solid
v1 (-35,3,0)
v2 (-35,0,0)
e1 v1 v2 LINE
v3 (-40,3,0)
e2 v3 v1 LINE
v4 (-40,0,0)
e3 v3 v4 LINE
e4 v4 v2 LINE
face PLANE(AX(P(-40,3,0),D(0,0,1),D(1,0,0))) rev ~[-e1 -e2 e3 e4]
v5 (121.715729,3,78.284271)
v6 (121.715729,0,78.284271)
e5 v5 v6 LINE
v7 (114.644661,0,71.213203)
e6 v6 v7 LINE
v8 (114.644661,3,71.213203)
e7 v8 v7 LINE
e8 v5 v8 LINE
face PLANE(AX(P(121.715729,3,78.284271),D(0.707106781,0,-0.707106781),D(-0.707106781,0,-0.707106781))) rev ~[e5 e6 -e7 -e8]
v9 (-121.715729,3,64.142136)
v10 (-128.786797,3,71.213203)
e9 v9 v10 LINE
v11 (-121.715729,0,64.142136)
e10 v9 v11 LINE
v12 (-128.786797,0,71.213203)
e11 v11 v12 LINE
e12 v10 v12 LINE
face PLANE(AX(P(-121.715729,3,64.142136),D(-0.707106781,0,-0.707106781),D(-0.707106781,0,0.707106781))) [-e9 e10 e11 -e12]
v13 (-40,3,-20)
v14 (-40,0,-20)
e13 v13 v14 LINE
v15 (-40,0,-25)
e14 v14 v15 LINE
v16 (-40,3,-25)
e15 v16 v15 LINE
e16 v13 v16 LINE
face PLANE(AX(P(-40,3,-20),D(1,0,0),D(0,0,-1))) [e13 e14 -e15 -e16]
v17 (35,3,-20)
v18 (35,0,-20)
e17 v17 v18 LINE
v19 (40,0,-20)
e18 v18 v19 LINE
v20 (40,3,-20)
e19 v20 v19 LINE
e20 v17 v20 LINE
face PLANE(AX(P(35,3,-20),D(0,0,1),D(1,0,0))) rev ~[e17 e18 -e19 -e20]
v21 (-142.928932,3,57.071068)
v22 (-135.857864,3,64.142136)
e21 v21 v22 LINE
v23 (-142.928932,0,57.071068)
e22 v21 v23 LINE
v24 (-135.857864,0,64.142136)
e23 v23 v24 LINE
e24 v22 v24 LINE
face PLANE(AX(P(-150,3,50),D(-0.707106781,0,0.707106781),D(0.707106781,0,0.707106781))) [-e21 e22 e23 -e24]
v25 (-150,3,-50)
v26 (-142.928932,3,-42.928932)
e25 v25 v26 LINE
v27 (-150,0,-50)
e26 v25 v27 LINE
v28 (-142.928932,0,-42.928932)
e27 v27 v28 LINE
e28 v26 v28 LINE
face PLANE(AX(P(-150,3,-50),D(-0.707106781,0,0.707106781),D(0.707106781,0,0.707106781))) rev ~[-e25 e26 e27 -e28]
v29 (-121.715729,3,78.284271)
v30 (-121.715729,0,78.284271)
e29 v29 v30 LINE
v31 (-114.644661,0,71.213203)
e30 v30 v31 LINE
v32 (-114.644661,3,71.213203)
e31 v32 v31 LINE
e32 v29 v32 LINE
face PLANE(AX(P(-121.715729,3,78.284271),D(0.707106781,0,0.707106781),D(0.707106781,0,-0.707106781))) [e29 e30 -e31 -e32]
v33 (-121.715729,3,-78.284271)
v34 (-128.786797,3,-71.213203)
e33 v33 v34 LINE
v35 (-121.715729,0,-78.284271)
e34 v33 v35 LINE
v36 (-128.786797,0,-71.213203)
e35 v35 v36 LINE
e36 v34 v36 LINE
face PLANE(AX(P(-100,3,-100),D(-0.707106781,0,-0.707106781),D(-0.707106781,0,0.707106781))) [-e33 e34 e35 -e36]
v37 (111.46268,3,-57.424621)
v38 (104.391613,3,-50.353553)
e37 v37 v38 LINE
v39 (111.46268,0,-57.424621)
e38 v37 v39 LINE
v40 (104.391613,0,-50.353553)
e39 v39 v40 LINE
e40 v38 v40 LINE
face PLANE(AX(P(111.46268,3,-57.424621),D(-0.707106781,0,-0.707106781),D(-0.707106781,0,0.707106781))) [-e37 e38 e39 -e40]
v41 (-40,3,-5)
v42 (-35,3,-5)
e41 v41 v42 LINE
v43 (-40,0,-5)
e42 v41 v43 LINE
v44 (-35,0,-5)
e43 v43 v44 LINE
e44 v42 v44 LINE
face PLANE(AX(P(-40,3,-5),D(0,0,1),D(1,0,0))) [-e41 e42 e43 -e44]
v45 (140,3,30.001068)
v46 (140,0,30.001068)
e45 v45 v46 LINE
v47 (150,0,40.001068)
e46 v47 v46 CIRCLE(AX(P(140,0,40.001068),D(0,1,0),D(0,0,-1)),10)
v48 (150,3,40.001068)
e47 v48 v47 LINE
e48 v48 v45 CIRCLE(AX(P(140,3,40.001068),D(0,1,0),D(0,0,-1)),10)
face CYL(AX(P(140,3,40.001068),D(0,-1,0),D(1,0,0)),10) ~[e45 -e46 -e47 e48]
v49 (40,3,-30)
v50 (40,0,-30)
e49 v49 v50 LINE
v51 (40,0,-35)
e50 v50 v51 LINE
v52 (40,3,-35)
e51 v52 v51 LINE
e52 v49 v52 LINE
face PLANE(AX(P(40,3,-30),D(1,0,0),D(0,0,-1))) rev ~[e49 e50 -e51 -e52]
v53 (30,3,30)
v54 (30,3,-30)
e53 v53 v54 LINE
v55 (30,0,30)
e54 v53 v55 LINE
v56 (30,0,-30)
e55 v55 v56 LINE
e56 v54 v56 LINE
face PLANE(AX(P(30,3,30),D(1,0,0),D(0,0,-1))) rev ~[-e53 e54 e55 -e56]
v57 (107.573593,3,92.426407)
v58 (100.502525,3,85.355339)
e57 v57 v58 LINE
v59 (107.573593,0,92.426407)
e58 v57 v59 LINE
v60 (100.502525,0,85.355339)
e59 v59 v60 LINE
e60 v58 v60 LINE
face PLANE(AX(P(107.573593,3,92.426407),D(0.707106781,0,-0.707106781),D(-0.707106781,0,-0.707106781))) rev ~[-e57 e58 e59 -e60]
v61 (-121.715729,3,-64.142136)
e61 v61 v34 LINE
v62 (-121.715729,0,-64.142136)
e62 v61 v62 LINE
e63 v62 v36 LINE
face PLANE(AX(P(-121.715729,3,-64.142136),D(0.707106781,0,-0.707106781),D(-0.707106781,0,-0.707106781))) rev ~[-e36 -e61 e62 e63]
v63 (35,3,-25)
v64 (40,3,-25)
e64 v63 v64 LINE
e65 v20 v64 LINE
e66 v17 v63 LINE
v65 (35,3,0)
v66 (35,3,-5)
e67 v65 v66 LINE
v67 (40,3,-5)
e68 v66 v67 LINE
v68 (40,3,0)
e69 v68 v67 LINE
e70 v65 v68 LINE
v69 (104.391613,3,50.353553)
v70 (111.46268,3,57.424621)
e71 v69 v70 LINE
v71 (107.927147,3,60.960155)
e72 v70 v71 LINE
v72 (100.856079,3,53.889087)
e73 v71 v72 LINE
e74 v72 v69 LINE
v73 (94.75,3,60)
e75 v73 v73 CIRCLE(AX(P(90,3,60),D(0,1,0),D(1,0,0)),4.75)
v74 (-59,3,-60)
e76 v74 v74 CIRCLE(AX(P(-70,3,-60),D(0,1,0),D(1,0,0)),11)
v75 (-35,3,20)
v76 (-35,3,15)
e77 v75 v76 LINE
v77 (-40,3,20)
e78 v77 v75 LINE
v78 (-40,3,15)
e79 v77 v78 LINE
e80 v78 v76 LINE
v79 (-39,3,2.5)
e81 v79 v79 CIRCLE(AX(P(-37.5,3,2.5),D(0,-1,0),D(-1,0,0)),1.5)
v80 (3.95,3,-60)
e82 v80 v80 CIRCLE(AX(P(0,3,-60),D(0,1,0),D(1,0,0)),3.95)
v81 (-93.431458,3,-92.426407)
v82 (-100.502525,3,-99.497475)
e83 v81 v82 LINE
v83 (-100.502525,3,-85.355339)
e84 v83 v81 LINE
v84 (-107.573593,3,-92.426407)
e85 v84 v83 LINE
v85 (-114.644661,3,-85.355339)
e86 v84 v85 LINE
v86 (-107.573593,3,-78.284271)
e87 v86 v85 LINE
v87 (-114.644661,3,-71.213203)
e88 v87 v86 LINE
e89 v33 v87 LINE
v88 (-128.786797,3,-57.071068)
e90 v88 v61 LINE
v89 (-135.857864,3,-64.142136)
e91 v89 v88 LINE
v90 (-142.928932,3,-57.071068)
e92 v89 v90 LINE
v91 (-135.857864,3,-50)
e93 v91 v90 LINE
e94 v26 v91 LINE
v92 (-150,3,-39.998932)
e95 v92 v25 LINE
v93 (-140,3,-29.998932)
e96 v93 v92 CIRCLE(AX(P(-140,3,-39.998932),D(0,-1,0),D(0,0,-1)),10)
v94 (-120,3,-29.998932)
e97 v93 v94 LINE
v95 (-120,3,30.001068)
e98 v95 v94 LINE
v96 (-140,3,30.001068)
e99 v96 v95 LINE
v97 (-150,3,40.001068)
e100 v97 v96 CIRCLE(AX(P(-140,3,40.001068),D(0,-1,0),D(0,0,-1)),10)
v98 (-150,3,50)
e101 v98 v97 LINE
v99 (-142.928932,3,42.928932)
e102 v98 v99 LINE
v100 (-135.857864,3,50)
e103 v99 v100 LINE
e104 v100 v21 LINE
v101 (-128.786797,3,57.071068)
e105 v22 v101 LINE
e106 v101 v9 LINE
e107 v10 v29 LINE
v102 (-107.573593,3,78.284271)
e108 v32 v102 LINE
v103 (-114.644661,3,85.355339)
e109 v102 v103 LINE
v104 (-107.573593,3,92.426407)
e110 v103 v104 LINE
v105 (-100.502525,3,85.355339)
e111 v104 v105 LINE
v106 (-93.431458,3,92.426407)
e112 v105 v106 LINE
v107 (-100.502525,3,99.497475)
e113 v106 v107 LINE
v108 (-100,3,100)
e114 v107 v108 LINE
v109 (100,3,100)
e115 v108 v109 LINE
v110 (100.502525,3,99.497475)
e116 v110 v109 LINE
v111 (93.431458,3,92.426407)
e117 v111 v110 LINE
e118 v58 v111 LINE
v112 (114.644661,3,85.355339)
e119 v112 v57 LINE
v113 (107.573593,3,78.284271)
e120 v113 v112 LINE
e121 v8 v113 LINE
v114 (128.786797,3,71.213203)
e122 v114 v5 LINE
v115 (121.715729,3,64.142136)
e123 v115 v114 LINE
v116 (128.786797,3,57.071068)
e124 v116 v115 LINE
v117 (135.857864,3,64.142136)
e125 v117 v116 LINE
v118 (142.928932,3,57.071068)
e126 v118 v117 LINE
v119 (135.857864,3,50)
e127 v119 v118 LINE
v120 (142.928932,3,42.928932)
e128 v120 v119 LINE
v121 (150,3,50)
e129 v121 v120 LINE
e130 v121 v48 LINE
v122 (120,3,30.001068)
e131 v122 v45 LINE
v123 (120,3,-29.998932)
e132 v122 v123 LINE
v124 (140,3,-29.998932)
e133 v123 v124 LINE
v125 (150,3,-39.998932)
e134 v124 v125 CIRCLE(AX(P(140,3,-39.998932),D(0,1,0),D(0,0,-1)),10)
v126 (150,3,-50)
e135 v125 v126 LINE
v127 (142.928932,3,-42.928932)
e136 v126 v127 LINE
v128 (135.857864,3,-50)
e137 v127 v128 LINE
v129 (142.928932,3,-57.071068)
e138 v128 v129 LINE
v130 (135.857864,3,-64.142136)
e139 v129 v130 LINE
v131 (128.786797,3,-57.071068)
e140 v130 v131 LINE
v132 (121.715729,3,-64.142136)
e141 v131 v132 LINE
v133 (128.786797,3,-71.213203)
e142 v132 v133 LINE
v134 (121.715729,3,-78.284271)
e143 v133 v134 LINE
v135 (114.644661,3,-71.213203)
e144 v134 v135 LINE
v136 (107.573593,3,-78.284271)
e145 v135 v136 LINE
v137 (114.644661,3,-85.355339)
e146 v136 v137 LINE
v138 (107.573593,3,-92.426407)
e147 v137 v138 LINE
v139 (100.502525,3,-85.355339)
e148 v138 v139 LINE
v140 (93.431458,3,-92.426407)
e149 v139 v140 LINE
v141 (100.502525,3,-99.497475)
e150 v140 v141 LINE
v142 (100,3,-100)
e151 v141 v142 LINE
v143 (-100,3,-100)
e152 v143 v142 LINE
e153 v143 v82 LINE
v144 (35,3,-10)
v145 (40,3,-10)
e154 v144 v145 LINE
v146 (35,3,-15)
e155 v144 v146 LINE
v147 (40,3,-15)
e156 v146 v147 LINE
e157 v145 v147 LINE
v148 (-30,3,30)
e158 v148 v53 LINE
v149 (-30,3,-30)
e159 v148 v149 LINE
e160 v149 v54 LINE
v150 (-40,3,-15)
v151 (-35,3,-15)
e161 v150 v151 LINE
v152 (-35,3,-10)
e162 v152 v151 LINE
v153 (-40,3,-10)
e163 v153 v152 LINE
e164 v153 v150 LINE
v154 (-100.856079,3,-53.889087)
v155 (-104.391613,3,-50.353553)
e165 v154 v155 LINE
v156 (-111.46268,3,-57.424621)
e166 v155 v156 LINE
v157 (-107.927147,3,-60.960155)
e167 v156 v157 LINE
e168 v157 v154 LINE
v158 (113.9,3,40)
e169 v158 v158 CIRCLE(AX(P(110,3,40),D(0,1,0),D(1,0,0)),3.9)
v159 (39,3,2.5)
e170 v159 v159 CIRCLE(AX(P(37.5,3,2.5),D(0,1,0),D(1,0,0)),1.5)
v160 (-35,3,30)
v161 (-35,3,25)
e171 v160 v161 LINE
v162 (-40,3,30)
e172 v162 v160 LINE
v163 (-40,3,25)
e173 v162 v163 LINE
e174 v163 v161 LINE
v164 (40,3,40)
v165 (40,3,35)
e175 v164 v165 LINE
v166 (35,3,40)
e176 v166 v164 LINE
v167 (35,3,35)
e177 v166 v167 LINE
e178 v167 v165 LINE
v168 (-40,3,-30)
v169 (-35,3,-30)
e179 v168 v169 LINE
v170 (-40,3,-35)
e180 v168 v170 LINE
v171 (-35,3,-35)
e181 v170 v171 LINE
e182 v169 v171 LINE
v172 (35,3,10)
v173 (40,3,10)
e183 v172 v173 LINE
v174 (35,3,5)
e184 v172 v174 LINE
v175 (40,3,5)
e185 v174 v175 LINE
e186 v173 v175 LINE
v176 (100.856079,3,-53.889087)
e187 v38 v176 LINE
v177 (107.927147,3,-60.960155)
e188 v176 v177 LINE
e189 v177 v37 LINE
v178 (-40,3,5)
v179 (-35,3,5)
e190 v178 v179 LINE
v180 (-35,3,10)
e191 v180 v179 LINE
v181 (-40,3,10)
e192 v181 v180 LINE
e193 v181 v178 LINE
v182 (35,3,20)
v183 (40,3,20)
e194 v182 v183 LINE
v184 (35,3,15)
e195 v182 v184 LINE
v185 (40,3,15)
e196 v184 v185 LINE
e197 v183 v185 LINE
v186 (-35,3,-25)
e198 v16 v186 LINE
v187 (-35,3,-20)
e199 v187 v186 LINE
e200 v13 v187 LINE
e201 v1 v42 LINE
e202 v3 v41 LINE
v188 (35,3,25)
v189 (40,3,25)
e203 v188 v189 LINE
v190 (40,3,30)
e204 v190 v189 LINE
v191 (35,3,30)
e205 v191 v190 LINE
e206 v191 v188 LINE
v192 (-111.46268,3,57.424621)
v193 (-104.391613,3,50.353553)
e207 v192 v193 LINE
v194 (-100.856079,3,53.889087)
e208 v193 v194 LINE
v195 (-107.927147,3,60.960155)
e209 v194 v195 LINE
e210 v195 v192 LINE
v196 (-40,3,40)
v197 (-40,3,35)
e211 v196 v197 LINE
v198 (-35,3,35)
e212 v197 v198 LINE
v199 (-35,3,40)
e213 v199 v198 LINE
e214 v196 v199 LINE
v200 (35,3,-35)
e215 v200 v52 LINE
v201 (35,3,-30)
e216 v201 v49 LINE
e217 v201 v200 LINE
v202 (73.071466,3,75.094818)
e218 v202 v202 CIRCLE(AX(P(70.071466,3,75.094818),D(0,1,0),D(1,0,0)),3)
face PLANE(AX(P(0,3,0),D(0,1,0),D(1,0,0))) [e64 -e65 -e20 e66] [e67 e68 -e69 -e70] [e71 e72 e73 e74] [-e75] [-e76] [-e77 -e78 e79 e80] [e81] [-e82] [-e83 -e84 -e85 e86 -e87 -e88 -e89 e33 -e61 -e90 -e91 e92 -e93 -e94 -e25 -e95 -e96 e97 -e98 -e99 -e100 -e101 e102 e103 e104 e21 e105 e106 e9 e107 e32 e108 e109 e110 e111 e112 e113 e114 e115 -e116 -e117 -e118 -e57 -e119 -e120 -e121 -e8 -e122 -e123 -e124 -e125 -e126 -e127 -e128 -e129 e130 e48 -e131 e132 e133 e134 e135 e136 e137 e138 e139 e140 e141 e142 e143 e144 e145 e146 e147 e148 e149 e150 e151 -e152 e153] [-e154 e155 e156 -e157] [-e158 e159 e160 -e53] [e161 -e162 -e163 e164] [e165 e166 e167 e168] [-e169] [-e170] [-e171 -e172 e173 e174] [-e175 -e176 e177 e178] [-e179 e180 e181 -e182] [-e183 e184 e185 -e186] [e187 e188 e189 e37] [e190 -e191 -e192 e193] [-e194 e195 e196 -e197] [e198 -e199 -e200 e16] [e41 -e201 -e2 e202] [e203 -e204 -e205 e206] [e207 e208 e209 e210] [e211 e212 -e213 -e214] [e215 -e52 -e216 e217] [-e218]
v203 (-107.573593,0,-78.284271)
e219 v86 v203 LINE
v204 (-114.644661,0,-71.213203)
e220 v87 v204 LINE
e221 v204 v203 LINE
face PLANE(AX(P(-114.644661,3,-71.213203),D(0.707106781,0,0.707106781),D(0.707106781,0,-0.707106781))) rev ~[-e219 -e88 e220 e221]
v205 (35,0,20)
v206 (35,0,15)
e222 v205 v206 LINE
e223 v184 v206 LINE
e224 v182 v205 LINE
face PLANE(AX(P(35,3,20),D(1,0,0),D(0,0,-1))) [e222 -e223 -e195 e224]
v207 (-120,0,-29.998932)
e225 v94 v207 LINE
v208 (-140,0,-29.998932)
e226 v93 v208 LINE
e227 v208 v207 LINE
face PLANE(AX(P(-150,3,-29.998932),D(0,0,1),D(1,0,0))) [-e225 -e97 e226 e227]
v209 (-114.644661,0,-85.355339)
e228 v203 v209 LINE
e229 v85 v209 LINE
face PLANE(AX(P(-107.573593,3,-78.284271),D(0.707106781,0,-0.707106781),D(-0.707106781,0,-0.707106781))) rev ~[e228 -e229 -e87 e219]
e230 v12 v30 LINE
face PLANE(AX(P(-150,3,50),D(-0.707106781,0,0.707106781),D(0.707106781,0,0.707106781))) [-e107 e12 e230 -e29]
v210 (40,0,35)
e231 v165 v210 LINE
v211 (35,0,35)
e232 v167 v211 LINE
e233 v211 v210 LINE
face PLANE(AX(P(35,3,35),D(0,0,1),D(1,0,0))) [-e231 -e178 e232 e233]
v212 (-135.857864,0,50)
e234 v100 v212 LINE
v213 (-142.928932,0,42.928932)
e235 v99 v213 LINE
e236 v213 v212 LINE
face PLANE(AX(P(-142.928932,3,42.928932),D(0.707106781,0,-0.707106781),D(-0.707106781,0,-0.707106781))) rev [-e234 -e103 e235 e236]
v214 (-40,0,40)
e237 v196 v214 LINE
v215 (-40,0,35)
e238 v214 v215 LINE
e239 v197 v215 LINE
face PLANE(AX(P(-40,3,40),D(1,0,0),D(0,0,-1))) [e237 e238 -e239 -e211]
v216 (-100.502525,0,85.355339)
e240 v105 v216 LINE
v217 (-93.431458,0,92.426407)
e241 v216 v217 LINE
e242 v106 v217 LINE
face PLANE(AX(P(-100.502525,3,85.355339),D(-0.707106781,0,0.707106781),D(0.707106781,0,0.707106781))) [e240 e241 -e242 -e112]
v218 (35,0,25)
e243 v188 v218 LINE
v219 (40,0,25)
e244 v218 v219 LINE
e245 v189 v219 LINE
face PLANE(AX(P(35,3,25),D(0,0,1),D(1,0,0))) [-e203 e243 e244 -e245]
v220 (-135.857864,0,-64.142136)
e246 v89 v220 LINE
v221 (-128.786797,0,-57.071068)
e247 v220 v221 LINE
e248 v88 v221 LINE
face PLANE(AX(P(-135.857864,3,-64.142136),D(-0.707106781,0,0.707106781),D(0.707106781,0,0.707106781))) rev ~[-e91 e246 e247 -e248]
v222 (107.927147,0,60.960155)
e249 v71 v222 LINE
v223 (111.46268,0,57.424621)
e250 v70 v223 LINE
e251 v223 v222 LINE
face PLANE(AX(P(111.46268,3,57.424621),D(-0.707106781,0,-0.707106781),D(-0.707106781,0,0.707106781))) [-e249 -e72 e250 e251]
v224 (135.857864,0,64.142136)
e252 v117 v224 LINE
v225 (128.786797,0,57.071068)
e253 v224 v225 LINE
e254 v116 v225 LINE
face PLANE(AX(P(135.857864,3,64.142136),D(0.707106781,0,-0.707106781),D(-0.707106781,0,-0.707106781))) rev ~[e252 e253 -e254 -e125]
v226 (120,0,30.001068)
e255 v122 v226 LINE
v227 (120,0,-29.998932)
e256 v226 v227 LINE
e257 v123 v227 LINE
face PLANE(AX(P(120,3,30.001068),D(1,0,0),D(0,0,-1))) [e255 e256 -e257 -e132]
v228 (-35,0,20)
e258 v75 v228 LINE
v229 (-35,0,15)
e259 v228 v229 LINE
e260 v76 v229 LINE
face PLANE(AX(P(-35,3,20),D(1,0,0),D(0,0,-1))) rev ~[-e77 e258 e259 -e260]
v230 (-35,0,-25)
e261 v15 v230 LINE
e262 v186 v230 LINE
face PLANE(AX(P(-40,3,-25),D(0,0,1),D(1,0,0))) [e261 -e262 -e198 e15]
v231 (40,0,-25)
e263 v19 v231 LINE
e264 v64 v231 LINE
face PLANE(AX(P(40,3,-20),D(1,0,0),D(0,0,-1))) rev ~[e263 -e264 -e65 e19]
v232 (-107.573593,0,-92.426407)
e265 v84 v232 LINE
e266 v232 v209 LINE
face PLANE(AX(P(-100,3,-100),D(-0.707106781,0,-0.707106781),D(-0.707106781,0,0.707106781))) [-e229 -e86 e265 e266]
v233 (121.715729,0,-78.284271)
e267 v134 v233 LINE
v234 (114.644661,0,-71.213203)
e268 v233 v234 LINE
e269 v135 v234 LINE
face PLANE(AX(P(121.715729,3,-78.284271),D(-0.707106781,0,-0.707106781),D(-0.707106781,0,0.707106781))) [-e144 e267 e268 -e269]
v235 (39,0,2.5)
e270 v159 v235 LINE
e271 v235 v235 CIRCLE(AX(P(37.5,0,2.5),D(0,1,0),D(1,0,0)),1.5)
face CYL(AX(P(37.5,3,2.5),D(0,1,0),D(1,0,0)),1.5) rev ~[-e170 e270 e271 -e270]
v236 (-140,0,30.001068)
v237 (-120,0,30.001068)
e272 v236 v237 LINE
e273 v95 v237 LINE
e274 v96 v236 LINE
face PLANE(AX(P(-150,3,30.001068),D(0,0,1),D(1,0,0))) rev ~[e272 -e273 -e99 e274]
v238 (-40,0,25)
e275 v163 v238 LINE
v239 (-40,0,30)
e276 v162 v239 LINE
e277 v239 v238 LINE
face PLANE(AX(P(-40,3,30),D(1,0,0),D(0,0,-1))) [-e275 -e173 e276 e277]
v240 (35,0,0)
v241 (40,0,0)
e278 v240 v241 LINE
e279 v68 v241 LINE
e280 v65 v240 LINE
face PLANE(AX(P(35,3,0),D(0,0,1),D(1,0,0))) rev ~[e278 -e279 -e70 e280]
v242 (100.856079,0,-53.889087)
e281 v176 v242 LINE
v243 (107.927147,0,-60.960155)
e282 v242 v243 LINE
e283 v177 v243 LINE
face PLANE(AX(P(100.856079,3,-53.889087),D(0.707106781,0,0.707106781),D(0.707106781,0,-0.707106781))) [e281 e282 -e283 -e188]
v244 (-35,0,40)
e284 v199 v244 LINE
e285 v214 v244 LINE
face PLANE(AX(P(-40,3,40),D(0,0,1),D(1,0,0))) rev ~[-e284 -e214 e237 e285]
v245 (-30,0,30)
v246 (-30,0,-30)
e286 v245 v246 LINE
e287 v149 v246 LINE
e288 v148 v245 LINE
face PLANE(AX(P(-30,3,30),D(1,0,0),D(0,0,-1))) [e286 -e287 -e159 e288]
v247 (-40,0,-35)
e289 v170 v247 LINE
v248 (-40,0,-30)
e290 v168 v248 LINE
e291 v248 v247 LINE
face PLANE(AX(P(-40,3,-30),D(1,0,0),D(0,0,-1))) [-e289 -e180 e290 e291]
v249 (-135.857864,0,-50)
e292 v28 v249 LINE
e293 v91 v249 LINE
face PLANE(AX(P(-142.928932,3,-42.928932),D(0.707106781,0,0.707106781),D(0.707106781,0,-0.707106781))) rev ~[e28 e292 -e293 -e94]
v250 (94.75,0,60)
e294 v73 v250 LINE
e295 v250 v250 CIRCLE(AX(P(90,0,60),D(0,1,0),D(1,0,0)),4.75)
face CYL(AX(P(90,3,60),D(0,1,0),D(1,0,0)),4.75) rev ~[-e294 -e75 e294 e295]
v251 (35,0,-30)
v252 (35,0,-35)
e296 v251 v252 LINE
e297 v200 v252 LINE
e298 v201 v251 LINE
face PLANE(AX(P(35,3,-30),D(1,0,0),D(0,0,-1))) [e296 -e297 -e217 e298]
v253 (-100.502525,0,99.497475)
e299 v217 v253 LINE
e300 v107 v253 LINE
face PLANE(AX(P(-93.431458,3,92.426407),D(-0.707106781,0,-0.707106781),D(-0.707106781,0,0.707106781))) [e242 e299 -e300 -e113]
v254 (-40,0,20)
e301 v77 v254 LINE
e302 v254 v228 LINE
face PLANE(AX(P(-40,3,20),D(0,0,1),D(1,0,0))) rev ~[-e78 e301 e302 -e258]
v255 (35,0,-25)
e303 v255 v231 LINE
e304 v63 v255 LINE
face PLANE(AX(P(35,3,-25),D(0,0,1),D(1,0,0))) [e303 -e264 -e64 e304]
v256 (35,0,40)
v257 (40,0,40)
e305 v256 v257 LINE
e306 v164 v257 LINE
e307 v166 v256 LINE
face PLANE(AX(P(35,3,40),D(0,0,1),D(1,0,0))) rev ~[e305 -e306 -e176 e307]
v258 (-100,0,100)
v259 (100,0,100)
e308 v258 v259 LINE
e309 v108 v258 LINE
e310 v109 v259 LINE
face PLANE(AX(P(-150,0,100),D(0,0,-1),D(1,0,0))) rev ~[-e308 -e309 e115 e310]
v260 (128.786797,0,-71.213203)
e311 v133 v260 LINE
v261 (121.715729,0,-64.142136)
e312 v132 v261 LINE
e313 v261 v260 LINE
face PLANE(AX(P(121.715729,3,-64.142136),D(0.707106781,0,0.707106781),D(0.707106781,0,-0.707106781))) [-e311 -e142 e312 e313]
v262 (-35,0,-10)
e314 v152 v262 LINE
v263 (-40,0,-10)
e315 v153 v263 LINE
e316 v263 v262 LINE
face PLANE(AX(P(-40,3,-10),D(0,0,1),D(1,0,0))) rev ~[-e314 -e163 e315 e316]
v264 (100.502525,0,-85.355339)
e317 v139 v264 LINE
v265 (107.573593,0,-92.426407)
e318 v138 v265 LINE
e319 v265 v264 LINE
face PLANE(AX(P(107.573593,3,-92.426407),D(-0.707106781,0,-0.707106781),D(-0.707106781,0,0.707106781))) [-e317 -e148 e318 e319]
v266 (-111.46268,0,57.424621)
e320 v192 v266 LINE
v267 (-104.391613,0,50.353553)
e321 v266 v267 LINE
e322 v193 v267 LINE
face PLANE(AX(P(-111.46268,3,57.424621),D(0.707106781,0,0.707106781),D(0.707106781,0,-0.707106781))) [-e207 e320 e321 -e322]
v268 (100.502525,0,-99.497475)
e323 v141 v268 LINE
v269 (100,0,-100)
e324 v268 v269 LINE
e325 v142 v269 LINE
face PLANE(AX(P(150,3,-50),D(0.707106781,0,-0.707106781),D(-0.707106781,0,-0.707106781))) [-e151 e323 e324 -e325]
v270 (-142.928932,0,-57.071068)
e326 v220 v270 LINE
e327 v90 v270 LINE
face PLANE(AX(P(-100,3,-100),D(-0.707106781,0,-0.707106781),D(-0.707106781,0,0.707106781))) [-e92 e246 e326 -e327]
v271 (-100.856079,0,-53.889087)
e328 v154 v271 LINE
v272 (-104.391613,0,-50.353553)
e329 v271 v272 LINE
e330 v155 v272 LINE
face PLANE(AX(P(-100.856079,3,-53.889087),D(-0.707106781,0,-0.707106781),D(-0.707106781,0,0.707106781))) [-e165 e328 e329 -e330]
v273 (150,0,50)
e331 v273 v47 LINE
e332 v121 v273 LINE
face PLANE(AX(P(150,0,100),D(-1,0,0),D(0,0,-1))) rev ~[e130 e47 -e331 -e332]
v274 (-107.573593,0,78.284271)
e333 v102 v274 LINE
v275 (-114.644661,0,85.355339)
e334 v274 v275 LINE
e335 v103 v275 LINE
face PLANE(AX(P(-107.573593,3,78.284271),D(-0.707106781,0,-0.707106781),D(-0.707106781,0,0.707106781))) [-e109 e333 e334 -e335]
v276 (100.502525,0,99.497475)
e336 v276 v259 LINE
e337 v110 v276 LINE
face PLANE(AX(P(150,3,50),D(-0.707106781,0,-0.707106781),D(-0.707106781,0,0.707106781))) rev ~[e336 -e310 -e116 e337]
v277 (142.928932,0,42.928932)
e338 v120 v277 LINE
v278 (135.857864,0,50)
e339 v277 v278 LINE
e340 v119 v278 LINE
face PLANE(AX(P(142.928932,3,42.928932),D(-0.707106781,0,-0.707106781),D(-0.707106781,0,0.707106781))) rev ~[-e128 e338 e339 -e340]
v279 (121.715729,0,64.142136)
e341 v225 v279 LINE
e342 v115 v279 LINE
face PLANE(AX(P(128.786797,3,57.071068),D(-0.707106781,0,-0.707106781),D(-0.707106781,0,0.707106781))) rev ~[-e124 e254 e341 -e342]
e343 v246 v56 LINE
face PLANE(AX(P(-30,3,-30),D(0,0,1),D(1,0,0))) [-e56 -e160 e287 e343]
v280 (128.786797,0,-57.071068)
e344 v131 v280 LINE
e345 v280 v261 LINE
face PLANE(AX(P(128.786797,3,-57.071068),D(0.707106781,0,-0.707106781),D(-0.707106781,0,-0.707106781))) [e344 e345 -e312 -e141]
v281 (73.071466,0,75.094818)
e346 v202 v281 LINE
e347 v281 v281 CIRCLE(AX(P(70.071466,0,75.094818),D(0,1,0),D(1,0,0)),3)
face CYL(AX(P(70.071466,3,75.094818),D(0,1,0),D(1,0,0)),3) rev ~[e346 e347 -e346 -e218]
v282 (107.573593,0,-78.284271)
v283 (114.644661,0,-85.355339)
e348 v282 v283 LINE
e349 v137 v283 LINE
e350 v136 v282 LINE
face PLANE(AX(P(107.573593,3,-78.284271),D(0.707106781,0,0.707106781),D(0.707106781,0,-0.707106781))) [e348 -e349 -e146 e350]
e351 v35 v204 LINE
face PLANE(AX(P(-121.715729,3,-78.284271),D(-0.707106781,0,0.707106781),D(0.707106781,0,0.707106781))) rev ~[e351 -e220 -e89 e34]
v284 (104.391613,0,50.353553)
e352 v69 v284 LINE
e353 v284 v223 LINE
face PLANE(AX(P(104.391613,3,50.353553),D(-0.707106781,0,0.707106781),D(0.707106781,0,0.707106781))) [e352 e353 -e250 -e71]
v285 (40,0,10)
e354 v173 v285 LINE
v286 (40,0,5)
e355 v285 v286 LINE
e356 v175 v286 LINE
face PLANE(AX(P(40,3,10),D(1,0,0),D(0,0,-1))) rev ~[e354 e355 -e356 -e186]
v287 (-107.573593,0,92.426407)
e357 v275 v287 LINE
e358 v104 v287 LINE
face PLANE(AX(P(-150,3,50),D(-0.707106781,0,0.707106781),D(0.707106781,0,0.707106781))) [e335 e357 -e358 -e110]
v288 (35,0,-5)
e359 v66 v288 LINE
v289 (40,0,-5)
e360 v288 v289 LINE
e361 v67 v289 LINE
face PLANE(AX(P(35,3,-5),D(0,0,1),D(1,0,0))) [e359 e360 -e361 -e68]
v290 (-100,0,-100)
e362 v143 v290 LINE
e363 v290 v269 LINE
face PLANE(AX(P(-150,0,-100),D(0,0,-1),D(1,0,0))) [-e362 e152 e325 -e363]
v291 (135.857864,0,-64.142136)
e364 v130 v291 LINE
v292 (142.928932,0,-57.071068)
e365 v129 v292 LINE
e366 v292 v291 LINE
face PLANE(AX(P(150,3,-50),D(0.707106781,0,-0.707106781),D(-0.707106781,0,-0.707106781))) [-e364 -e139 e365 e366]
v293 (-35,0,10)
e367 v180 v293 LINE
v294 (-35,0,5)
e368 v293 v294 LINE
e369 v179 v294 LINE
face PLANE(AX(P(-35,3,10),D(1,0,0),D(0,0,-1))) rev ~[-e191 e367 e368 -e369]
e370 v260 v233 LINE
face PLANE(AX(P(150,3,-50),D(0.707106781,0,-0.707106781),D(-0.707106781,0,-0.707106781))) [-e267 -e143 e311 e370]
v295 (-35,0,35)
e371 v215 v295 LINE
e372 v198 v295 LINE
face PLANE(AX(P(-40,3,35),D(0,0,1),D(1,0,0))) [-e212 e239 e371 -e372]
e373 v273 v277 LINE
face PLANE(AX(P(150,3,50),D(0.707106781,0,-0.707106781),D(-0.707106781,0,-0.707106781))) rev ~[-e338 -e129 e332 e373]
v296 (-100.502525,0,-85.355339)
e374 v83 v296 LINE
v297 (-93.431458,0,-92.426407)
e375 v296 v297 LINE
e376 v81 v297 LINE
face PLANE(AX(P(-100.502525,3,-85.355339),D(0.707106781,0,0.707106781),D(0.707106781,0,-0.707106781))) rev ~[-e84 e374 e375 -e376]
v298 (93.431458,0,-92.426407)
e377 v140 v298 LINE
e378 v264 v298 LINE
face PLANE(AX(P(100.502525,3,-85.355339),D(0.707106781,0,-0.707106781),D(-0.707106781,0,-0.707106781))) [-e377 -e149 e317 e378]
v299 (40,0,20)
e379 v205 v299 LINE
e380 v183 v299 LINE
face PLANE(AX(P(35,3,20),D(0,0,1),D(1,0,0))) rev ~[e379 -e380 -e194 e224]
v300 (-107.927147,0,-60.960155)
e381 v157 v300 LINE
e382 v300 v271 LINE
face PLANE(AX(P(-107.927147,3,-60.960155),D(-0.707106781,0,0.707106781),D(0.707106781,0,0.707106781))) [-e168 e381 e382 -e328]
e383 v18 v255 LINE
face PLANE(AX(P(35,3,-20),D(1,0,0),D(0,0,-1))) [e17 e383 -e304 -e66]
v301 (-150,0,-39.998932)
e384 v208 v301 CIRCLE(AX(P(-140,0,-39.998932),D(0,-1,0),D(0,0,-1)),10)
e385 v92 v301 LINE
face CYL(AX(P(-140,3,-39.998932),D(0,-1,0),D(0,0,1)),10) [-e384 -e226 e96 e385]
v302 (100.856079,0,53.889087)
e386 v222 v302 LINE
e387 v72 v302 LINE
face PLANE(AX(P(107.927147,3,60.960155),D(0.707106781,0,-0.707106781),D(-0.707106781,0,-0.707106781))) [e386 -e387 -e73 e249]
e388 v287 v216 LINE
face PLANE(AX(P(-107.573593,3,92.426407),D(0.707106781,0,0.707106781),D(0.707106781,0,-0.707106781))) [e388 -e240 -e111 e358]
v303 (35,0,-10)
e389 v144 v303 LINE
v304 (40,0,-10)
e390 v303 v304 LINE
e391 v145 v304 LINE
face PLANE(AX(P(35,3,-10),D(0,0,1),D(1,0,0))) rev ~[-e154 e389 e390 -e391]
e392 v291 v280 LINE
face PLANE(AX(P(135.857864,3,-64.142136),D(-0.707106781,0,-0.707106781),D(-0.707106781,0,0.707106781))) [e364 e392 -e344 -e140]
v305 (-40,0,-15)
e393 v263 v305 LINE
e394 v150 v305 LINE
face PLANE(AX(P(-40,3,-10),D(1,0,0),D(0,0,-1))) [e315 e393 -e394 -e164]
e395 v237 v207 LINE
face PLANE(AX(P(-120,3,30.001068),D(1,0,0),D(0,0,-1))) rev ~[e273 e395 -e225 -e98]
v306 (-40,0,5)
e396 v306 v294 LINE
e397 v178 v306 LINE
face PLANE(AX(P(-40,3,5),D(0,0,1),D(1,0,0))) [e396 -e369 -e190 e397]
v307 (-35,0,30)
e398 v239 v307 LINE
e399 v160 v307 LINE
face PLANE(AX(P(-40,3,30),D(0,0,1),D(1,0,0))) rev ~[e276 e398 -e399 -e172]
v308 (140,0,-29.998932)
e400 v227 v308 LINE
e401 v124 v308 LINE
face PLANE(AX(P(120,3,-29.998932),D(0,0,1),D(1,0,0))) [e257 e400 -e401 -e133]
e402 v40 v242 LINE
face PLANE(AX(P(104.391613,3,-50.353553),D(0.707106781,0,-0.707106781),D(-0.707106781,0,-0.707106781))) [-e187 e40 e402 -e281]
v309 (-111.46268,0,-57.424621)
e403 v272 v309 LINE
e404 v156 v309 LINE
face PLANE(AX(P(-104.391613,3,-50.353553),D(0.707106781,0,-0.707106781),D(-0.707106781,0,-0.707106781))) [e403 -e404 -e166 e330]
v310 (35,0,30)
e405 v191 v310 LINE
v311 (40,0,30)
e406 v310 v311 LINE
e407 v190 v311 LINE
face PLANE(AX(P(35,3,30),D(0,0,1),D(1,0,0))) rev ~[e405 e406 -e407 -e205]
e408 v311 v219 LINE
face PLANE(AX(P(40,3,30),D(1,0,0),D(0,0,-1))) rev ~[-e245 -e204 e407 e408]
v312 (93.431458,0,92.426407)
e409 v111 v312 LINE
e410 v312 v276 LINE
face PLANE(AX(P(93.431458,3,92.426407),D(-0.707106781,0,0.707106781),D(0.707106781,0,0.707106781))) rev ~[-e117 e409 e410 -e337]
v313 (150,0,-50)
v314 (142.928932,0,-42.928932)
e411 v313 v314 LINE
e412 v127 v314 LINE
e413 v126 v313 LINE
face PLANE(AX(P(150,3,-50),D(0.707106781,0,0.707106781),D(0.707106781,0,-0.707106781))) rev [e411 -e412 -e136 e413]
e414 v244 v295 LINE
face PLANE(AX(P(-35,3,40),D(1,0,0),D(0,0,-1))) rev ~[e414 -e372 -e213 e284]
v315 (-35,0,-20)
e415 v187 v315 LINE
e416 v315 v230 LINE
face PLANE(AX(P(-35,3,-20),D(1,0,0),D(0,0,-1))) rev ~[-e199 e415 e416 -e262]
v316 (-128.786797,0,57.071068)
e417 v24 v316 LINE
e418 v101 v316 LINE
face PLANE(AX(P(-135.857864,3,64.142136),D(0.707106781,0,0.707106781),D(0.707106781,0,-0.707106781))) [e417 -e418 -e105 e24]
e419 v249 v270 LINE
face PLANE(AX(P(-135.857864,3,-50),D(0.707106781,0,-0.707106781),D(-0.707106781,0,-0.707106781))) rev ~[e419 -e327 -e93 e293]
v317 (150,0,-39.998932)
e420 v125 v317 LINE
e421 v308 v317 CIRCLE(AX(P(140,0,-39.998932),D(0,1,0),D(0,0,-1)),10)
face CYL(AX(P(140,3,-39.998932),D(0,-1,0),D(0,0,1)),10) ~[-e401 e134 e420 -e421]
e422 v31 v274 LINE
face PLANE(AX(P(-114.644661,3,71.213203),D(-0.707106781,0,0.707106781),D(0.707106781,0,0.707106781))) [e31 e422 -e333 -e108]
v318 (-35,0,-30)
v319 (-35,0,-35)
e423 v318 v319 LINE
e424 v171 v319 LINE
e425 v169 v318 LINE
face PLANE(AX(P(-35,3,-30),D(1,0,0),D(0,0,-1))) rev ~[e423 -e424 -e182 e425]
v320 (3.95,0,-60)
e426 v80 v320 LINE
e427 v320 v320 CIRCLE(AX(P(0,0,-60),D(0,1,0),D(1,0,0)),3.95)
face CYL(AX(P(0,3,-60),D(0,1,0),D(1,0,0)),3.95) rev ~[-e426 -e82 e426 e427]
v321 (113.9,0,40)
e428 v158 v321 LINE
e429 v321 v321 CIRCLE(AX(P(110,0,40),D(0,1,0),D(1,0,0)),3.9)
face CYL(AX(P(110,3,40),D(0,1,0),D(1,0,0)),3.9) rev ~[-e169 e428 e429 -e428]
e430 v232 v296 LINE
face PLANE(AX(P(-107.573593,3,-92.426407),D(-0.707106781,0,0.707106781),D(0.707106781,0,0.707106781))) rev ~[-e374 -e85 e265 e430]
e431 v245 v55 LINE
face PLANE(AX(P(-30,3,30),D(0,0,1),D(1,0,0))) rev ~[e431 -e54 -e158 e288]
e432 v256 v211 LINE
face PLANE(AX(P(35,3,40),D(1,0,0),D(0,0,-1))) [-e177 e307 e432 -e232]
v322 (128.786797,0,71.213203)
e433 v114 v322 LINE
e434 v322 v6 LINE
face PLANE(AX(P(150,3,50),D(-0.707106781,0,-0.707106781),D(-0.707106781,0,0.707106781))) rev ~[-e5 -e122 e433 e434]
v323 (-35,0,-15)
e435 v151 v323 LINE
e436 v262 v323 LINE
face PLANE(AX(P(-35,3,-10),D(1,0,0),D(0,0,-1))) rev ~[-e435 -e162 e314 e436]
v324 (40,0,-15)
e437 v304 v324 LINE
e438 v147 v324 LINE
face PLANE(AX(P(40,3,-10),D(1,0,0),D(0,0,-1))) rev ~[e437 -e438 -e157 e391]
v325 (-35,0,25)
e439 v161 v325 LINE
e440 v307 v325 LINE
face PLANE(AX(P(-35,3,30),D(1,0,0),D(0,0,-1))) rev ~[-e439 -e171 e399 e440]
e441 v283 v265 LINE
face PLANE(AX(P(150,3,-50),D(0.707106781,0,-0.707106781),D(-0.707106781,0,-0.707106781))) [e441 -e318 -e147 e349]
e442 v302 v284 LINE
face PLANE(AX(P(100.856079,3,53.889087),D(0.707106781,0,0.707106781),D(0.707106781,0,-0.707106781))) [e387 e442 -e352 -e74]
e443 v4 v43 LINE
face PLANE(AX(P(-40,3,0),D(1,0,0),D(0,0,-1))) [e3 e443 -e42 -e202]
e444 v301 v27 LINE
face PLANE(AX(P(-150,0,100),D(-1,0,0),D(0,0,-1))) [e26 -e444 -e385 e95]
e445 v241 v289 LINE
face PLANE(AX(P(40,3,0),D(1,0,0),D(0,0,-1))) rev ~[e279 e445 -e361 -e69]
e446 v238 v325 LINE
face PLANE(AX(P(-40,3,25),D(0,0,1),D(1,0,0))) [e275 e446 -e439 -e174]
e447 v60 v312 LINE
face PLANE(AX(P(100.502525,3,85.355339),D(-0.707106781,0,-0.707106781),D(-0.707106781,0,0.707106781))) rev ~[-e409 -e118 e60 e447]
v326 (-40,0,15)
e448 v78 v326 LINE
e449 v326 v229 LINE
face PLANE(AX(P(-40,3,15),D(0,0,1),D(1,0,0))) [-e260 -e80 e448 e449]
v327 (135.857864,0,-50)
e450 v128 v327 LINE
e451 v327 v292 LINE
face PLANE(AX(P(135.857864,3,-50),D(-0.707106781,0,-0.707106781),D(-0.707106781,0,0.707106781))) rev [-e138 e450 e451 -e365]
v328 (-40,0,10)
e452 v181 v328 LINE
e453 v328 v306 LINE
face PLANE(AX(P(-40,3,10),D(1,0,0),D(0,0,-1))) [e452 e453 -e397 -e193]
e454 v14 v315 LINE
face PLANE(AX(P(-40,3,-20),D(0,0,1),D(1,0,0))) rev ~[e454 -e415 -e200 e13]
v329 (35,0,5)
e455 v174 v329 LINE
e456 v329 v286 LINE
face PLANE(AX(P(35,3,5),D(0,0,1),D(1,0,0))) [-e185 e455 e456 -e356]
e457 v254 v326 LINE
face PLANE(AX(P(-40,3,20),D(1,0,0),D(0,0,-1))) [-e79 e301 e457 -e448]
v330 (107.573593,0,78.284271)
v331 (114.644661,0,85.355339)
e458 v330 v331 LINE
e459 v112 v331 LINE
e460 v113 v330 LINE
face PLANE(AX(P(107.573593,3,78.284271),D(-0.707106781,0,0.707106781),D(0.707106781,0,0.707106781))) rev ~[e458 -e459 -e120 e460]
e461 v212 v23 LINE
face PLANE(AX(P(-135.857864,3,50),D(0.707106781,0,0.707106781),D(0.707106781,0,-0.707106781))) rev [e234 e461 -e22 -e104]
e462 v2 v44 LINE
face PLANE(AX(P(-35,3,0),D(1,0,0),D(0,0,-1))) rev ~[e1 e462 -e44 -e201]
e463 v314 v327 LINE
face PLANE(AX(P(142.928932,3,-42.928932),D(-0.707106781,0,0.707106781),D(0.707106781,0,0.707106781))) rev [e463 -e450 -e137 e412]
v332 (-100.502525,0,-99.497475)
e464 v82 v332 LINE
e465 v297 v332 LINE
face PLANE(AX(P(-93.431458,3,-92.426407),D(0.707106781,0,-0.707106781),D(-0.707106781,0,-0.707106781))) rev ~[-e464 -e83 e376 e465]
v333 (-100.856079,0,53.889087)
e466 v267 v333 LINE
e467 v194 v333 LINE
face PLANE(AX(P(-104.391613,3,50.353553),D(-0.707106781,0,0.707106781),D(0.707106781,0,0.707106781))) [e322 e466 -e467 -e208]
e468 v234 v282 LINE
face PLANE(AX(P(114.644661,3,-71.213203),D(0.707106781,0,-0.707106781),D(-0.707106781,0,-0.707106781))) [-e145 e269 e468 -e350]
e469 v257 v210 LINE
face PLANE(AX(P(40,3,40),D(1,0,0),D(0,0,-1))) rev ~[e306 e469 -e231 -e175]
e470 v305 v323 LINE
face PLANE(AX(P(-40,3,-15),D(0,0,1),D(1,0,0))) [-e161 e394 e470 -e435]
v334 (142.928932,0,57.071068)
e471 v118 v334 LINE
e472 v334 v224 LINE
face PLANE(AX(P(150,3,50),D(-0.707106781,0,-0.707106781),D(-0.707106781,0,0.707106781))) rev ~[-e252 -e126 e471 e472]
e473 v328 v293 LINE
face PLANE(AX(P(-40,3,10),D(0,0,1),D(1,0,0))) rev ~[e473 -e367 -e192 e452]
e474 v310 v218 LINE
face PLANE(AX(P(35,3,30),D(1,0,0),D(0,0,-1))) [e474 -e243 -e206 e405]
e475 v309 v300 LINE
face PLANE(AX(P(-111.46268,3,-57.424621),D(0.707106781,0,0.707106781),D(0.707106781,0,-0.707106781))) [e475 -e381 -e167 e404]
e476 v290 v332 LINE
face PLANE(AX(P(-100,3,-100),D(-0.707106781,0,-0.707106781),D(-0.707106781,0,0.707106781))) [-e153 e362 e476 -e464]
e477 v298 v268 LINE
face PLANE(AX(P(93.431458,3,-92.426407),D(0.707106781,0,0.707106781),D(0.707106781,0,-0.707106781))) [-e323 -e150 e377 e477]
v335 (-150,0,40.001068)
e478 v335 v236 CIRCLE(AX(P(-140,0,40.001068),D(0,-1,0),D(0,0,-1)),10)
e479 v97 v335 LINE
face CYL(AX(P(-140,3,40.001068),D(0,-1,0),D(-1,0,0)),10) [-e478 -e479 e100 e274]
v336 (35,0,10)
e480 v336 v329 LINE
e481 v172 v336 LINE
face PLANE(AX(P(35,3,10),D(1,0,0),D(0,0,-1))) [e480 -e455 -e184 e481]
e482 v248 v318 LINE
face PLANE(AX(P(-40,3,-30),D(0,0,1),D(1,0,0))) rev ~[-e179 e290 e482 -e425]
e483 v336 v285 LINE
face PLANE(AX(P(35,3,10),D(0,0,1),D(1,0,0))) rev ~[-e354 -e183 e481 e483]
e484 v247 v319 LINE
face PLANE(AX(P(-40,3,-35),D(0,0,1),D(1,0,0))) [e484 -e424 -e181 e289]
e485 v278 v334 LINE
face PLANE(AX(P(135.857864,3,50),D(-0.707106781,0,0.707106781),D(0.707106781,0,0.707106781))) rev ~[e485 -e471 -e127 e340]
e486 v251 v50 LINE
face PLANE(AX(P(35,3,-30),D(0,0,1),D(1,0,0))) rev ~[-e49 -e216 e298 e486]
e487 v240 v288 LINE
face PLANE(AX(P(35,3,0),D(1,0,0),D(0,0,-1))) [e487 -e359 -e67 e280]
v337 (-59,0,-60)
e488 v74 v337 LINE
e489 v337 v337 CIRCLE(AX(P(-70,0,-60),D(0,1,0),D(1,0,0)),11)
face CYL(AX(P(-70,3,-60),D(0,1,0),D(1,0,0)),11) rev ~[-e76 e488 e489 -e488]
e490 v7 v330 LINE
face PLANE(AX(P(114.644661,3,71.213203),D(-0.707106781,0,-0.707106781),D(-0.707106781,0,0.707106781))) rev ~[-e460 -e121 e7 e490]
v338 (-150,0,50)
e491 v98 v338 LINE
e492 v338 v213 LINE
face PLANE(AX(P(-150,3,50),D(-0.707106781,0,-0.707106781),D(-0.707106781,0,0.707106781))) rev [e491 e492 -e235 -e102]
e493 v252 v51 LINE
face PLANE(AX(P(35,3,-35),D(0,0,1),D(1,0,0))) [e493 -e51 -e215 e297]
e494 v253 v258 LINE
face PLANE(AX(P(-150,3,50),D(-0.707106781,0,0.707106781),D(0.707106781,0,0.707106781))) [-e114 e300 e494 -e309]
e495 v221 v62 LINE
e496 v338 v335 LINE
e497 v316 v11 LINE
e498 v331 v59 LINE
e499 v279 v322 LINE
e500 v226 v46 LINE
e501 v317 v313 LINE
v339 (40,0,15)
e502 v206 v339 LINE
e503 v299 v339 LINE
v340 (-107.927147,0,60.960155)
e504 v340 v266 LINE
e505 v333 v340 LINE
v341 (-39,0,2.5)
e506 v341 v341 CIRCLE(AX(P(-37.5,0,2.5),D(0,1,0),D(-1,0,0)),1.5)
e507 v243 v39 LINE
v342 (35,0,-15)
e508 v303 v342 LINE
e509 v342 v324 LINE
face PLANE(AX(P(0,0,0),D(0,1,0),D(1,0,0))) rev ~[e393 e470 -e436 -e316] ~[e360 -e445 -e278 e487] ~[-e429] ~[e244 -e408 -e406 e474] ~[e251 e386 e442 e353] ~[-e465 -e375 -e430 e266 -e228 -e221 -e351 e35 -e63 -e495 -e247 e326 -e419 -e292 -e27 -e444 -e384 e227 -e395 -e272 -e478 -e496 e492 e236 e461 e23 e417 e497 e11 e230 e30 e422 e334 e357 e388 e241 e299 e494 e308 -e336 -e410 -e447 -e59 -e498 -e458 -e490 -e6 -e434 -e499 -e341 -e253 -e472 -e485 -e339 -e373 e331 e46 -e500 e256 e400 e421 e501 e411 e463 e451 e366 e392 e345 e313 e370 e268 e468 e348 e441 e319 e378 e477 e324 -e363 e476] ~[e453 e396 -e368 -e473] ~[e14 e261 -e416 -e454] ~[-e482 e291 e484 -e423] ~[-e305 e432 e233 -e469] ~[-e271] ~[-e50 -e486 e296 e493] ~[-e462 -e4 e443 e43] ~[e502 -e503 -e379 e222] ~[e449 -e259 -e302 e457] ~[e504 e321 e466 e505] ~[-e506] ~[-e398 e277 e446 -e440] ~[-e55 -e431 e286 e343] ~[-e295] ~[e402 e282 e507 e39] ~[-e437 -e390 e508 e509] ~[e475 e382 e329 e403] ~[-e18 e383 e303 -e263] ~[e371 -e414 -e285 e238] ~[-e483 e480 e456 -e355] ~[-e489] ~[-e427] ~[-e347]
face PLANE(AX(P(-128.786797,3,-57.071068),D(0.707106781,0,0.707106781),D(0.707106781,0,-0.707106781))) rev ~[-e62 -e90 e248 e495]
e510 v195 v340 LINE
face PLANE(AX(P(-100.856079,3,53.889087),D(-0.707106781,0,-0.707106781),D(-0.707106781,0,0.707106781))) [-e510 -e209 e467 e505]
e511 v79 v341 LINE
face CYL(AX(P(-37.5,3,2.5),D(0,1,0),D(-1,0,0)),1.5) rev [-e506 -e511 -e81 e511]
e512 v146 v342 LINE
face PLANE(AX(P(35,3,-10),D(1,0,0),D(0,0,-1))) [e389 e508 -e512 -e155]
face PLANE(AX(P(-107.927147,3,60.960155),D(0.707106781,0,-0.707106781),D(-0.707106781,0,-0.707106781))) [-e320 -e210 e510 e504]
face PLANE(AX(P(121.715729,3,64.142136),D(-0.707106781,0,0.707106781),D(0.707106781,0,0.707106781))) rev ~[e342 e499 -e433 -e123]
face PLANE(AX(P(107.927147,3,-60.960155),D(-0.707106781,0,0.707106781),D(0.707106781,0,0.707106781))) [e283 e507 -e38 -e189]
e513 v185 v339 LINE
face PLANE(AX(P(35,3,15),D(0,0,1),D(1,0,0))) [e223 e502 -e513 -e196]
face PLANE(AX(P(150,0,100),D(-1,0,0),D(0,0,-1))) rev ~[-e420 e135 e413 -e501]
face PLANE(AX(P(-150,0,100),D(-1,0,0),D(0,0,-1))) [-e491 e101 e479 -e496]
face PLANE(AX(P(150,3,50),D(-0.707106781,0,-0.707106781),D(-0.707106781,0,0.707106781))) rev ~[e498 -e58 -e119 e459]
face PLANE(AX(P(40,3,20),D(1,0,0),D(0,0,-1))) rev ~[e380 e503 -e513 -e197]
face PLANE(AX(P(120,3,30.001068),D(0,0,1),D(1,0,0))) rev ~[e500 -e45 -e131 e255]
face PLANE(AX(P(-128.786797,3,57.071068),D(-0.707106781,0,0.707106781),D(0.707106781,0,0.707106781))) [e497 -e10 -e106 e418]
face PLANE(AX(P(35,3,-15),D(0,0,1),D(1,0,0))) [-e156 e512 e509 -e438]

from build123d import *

# Parameters (mm, degrees)
ESQUISSE1_W                     = 300
ESQUISSE1_H                     = 200
BOSS_EXTRU_1_DEPTH              = 3
ENL_V_MAT_EXTRU_1_DEPTH         = 10
ESQUISSE3_W                     = 5
ESQUISSE3_H                     = 5
ENL_V_MAT_EXTRU_2_DEPTH         = 10
R_P_TITION_LIN_AIRE1_COUNT      = 2
R_P_TITION_LIN_AIRE1_PITCH      = 75
R_P_TITION_LIN_AIRE1_COUNT_DIR2 = 8
R_P_TITION_LIN_AIRE1_PITCH_DIR2 = 10
ENL_V_MAT_EXTRU_5_DEPTH         = 10
R_P_TITION_LIN_AIRE2_COUNT      = 4
R_P_TITION_LIN_AIRE2_PITCH      = 20
SYM_TRIE1_COPY_1_DEPTH          = 10
SYM_TRIE1_COPY_2_DEPTH          = 10
SYM_TRIE1_COPY_3_DEPTH          = 10
ESQUISSE9_R                     = 1.5
ENL_V_MAT_EXTRU_8_DEPTH         = 10
SYM_TRIE2_COPY_1_DEPTH          = 10
SYM_TRIE2_COPY_2_DEPTH          = 10
SYM_TRIE2_COPY_3_DEPTH          = 10
SYM_TRIE2_COPY_4_DEPTH          = 10
SYM_TRIE2_COPY_5_DEPTH          = 10
SYM_TRIE2_COPY_6_DEPTH          = 10
SYM_TRIE2_COPY_7_DEPTH          = 10
ESQUISSE11_R                    = 11
ESQUISSE11_R_2                  = 3.9
ESQUISSE11_R_3                  = 4.75
ESQUISSE11_R_4                  = 3
ESQUISSE11_R_5                  = 3.95
ENL_V_MAT_EXTRU_10_DEPTH        = 10
ESQUISSE12_W                    = 60
ESQUISSE12_H                    = 60
ENL_V_MAT_EXTRU_11_DEPTH        = 10
ESQUISSE13_W                    = 30
ESQUISSE13_H                    = 60
ENL_V_MAT_EXTRU_12_DEPTH        = 10
ENL_V_MAT_EXTRU_14_DEPTH        = 10
CONG_1_R                        = 10


with BuildPart() as part:
    # Esquisse1 → Boss.-Extru.1 (new body)
    with BuildSketch(Plane(origin=(0, 0, 0), x_dir=(1, 0, 0), z_dir=(0, 1, 0))):
        Rectangle(ESQUISSE1_W, ESQUISSE1_H)
    extrude(amount=BOSS_EXTRU_1_DEPTH)

    # Esquisse2 → Enlèv. mat.-Extru.1 (cut)
    with BuildSketch(Plane(origin=(0, 3, 0), x_dir=(1, 0, 0), z_dir=(0, 1, 0))):
        Polygon((-100, 100), (-150, 50), (-150, 100), align=None)
        Polygon((150, 100), (150, 50), (100, 100), align=None)
        Polygon((150, -100), (150, -50), (100, -100), align=None)
        Polygon((-100, -100), (-150, -100), (-150, -50), align=None)
    extrude(amount=-ENL_V_MAT_EXTRU_1_DEPTH, mode=Mode.SUBTRACT)

    # Esquisse3 → Enlèv. mat.-Extru.2 (cut)
    with BuildSketch(Plane(origin=(0, 3, 0), x_dir=(1, 0, 0), z_dir=(0, 1, 0))):
        with Locations((37.5, -37.5)):
            Rectangle(ESQUISSE3_W, ESQUISSE3_H)
    enl_v_mat_extru_2 = extrude(amount=-ENL_V_MAT_EXTRU_2_DEPTH, mode=Mode.SUBTRACT)

    # Répétition linéaire1: Enl_v. mat.-Extru.2 2 × 8
    with Locations(*[(-i * R_P_TITION_LIN_AIRE1_PITCH, 0, -j * R_P_TITION_LIN_AIRE1_PITCH_DIR2) for i in range(R_P_TITION_LIN_AIRE1_COUNT) for j in range(R_P_TITION_LIN_AIRE1_COUNT_DIR2) if (i, j) != (0, 0)]):
        add(enl_v_mat_extru_2, mode=Mode.SUBTRACT)

    # Esquisse6 → Enlèv. mat.-Extru.5 (cut)
    with BuildSketch(Plane(origin=(0, 3, 0), x_dir=(1, 0, 0), z_dir=(0, 1, 0))):
        Polygon((-142.928932188, 57.071067812), (-150, 50), (-142.928932188, 42.928932188), (-135.857864376, 50), align=None)
    enl_v_mat_extru_5 = extrude(amount=-ENL_V_MAT_EXTRU_5_DEPTH, mode=Mode.SUBTRACT)

    # Répétition linéaire2: Enlèv. mat.-Extru.5 ×4
    with Locations(*[Vector(0.707106781, 0, -0.707106781) * (i * R_P_TITION_LIN_AIRE2_PITCH) for i in range(1, R_P_TITION_LIN_AIRE2_COUNT)]):
        add(enl_v_mat_extru_5, mode=Mode.SUBTRACT)

    # Symétrie1: Enlèv. mat.-Extru.5 across plane
    add(enl_v_mat_extru_5.mirror(Plane.XY), mode=Mode.SUBTRACT)

    # Symétrie1 copy 1 sketch → Symétrie1 copy 1 (cut)
    with BuildSketch(Plane(origin=(14.142135624, 3, 14.142135624), x_dir=(1, 0, 0), z_dir=(0, 1, 0))):
        Polygon((-142.928932188, -57.071067812), (-150, -50), (-142.928932188, -42.928932188), (-135.857864376, -50), align=None)
    extrude(amount=-SYM_TRIE1_COPY_1_DEPTH, mode=Mode.SUBTRACT)

    # Symétrie1 copy 2 sketch → Symétrie1 copy 2 (cut)
    with BuildSketch(Plane(origin=(28.284271247, 3, 28.284271247), x_dir=(1, 0, 0), z_dir=(0, 1, 0))):
        Polygon((-142.928932188, -57.071067812), (-150, -50), (-142.928932188, -42.928932188), (-135.857864376, -50), align=None)
    extrude(amount=-SYM_TRIE1_COPY_2_DEPTH, mode=Mode.SUBTRACT)

    # Symétrie1 copy 3 sketch → Symétrie1 copy 3 (cut)
    with BuildSketch(Plane(origin=(42.426406871, 3, 42.426406871), x_dir=(1, 0, 0), z_dir=(0, 1, 0))):
        Polygon((-142.928932188, -57.071067812), (-150, -50), (-142.928932188, -42.928932188), (-135.857864376, -50), align=None)
    extrude(amount=-SYM_TRIE1_COPY_3_DEPTH, mode=Mode.SUBTRACT)

    # Esquisse9 → Enlèv. mat.-Extru.8 (cut)
    with BuildSketch(Plane(origin=(0, 3, 0), x_dir=(1, 0, 0), z_dir=(0, 1, 0))):
        with Locations((37.5, -2.5)):
            Circle(ESQUISSE9_R)
    enl_v_mat_extru_8 = extrude(amount=-ENL_V_MAT_EXTRU_8_DEPTH, mode=Mode.SUBTRACT)

    # Symétrie2: Enlèv. mat.-Extru.8, Enlèv. mat.-Extru.5 across plane
    add(enl_v_mat_extru_8.mirror(Plane(origin=(0, 0, 0), x_dir=(0, 0, 1), z_dir=(1, 0, 0))), mode=Mode.SUBTRACT)
    add(enl_v_mat_extru_5.mirror(Plane(origin=(0, 0, 0), x_dir=(0, 0, 1), z_dir=(1, 0, 0))), mode=Mode.SUBTRACT)

    # Symétrie2 copy 1 sketch → Symétrie2 copy 1 (cut)
    with BuildSketch(Plane(origin=(0, 3, 0), x_dir=(-1, 0, 0), z_dir=(0, 1, 0))):
        Polygon((-142.928932188, 57.071067812), (-150, 50), (-142.928932188, 42.928932188), (-135.857864376, 50), align=None)
    extrude(amount=-SYM_TRIE2_COPY_1_DEPTH, mode=Mode.SUBTRACT)

    # Symétrie2 copy 2 sketch → Symétrie2 copy 2 (cut)
    with BuildSketch(Plane(origin=(-14.142135624, 3, 14.142135624), x_dir=(-1, 0, 0), z_dir=(0, 1, 0))):
        Polygon((-142.928932188, 57.071067812), (-150, 50), (-142.928932188, 42.928932188), (-135.857864376, 50), align=None)
    extrude(amount=-SYM_TRIE2_COPY_2_DEPTH, mode=Mode.SUBTRACT)

    # Symétrie2 copy 3 sketch → Symétrie2 copy 3 (cut)
    with BuildSketch(Plane(origin=(-28.284271247, 3, 28.284271247), x_dir=(-1, 0, 0), z_dir=(0, 1, 0))):
        Polygon((-142.928932188, 57.071067812), (-150, 50), (-142.928932188, 42.928932188), (-135.857864376, 50), align=None)
    extrude(amount=-SYM_TRIE2_COPY_3_DEPTH, mode=Mode.SUBTRACT)

    # Symétrie2 copy 4 sketch → Symétrie2 copy 4 (cut)
    with BuildSketch(Plane(origin=(-42.426406871, 3, 42.426406871), x_dir=(-1, 0, 0), z_dir=(0, 1, 0))):
        Polygon((-142.928932188, 57.071067812), (-150, 50), (-142.928932188, 42.928932188), (-135.857864376, 50), align=None)
    extrude(amount=-SYM_TRIE2_COPY_4_DEPTH, mode=Mode.SUBTRACT)

    # Symétrie2 copy 5 sketch → Symétrie2 copy 5 (cut)
    with BuildSketch(Plane(origin=(-14.142135624, 3, -14.142135624), x_dir=(-1, 0, 0), z_dir=(0, 1, 0))):
        Polygon((-142.928932188, -57.071067812), (-150, -50), (-142.928932188, -42.928932188), (-135.857864376, -50), align=None)
    extrude(amount=-SYM_TRIE2_COPY_5_DEPTH, mode=Mode.SUBTRACT)

    # Symétrie2 copy 6 sketch → Symétrie2 copy 6 (cut)
    with BuildSketch(Plane(origin=(-28.284271247, 3, -28.284271247), x_dir=(-1, 0, 0), z_dir=(0, 1, 0))):
        Polygon((-142.928932188, -57.071067812), (-150, -50), (-142.928932188, -42.928932188), (-135.857864376, -50), align=None)
    extrude(amount=-SYM_TRIE2_COPY_6_DEPTH, mode=Mode.SUBTRACT)

    # Symétrie2 copy 7 sketch → Symétrie2 copy 7 (cut)
    with BuildSketch(Plane(origin=(-42.426406871, 3, -42.426406871), x_dir=(-1, 0, 0), z_dir=(0, 1, 0))):
        Polygon((-142.928932188, -57.071067812), (-150, -50), (-142.928932188, -42.928932188), (-135.857864376, -50), align=None)
    extrude(amount=-SYM_TRIE2_COPY_7_DEPTH, mode=Mode.SUBTRACT)

    # Esquisse11 → Enlèv. mat.-Extru.10 (cut)
    with BuildSketch(Plane(origin=(0, 3, 0), x_dir=(1, 0, 0), z_dir=(0, 1, 0))):
        with Locations((-70, 60)):
            Circle(ESQUISSE11_R)
        with Locations((110, -40)):
            Circle(ESQUISSE11_R_2)
        with Locations((90, -60)):
            Circle(ESQUISSE11_R_3)
        with Locations((70.071466061, -75.094818152)):
            Circle(ESQUISSE11_R_4)
        with Locations((0, 60)):
            Circle(ESQUISSE11_R_5)
    extrude(amount=-ENL_V_MAT_EXTRU_10_DEPTH, mode=Mode.SUBTRACT)

    # Esquisse12 → Enlèv. mat.-Extru.11 (cut)
    with BuildSketch(Plane(origin=(0, 3, 0), x_dir=(1, 0, 0), z_dir=(0, 1, 0))):
        Rectangle(ESQUISSE12_W, ESQUISSE12_H)
    extrude(amount=-ENL_V_MAT_EXTRU_11_DEPTH, mode=Mode.SUBTRACT)

    # Esquisse13 → Enlèv. mat.-Extru.12 (cut)
    with BuildSketch(Plane(origin=(0, 3, 0), x_dir=(1, 0, 0), z_dir=(0, 1, 0))):
        with Locations((-135, -0.001067812)):
            Rectangle(ESQUISSE13_W, ESQUISSE13_H)
        with Locations((135, -0.001067812)):
            Rectangle(ESQUISSE13_W, ESQUISSE13_H)
    extrude(amount=-ENL_V_MAT_EXTRU_12_DEPTH, mode=Mode.SUBTRACT)

    # Esquisse15 → Enlèv. mat.-Extru.14 (cut)
    with BuildSketch(Plane(origin=(0, 3, 0), x_dir=(1, 0, 0), z_dir=(0, 1, 0))):
        Polygon((-111.462680425, -57.424621202), (-104.391612613, -50.353553391), (-100.856078708, -53.889087297), (-107.927146519, -60.960155108), align=None)
        Polygon((107.927146519, -60.960155108), (100.856078708, -53.889087297), (104.391612613, -50.353553391), (111.462680425, -57.424621202), align=None)
        Polygon((111.462680425, 57.424621202), (104.391612613, 50.353553391), (100.856078708, 53.889087297), (107.927146519, 60.960155108), align=None)
        Polygon((-107.927146519, 60.960155108), (-100.856078708, 53.889087297), (-104.391612613, 50.353553391), (-111.462680425, 57.424621202), align=None)
    extrude(amount=-ENL_V_MAT_EXTRU_14_DEPTH, mode=Mode.SUBTRACT)

    # Congé1
    cong_1_edges = [part.edges().sort_by_distance(p)[0] for p in [
        (-150, 1.5, 30.001067812),
        (-150, 1.5, -29.998932188),
        (150, 1.5, 30.001067812),
        (150, 1.5, -29.998932188),
    ]]
    fillet(cong_1_edges, radius=CONG_1_R)


solid = part.part
